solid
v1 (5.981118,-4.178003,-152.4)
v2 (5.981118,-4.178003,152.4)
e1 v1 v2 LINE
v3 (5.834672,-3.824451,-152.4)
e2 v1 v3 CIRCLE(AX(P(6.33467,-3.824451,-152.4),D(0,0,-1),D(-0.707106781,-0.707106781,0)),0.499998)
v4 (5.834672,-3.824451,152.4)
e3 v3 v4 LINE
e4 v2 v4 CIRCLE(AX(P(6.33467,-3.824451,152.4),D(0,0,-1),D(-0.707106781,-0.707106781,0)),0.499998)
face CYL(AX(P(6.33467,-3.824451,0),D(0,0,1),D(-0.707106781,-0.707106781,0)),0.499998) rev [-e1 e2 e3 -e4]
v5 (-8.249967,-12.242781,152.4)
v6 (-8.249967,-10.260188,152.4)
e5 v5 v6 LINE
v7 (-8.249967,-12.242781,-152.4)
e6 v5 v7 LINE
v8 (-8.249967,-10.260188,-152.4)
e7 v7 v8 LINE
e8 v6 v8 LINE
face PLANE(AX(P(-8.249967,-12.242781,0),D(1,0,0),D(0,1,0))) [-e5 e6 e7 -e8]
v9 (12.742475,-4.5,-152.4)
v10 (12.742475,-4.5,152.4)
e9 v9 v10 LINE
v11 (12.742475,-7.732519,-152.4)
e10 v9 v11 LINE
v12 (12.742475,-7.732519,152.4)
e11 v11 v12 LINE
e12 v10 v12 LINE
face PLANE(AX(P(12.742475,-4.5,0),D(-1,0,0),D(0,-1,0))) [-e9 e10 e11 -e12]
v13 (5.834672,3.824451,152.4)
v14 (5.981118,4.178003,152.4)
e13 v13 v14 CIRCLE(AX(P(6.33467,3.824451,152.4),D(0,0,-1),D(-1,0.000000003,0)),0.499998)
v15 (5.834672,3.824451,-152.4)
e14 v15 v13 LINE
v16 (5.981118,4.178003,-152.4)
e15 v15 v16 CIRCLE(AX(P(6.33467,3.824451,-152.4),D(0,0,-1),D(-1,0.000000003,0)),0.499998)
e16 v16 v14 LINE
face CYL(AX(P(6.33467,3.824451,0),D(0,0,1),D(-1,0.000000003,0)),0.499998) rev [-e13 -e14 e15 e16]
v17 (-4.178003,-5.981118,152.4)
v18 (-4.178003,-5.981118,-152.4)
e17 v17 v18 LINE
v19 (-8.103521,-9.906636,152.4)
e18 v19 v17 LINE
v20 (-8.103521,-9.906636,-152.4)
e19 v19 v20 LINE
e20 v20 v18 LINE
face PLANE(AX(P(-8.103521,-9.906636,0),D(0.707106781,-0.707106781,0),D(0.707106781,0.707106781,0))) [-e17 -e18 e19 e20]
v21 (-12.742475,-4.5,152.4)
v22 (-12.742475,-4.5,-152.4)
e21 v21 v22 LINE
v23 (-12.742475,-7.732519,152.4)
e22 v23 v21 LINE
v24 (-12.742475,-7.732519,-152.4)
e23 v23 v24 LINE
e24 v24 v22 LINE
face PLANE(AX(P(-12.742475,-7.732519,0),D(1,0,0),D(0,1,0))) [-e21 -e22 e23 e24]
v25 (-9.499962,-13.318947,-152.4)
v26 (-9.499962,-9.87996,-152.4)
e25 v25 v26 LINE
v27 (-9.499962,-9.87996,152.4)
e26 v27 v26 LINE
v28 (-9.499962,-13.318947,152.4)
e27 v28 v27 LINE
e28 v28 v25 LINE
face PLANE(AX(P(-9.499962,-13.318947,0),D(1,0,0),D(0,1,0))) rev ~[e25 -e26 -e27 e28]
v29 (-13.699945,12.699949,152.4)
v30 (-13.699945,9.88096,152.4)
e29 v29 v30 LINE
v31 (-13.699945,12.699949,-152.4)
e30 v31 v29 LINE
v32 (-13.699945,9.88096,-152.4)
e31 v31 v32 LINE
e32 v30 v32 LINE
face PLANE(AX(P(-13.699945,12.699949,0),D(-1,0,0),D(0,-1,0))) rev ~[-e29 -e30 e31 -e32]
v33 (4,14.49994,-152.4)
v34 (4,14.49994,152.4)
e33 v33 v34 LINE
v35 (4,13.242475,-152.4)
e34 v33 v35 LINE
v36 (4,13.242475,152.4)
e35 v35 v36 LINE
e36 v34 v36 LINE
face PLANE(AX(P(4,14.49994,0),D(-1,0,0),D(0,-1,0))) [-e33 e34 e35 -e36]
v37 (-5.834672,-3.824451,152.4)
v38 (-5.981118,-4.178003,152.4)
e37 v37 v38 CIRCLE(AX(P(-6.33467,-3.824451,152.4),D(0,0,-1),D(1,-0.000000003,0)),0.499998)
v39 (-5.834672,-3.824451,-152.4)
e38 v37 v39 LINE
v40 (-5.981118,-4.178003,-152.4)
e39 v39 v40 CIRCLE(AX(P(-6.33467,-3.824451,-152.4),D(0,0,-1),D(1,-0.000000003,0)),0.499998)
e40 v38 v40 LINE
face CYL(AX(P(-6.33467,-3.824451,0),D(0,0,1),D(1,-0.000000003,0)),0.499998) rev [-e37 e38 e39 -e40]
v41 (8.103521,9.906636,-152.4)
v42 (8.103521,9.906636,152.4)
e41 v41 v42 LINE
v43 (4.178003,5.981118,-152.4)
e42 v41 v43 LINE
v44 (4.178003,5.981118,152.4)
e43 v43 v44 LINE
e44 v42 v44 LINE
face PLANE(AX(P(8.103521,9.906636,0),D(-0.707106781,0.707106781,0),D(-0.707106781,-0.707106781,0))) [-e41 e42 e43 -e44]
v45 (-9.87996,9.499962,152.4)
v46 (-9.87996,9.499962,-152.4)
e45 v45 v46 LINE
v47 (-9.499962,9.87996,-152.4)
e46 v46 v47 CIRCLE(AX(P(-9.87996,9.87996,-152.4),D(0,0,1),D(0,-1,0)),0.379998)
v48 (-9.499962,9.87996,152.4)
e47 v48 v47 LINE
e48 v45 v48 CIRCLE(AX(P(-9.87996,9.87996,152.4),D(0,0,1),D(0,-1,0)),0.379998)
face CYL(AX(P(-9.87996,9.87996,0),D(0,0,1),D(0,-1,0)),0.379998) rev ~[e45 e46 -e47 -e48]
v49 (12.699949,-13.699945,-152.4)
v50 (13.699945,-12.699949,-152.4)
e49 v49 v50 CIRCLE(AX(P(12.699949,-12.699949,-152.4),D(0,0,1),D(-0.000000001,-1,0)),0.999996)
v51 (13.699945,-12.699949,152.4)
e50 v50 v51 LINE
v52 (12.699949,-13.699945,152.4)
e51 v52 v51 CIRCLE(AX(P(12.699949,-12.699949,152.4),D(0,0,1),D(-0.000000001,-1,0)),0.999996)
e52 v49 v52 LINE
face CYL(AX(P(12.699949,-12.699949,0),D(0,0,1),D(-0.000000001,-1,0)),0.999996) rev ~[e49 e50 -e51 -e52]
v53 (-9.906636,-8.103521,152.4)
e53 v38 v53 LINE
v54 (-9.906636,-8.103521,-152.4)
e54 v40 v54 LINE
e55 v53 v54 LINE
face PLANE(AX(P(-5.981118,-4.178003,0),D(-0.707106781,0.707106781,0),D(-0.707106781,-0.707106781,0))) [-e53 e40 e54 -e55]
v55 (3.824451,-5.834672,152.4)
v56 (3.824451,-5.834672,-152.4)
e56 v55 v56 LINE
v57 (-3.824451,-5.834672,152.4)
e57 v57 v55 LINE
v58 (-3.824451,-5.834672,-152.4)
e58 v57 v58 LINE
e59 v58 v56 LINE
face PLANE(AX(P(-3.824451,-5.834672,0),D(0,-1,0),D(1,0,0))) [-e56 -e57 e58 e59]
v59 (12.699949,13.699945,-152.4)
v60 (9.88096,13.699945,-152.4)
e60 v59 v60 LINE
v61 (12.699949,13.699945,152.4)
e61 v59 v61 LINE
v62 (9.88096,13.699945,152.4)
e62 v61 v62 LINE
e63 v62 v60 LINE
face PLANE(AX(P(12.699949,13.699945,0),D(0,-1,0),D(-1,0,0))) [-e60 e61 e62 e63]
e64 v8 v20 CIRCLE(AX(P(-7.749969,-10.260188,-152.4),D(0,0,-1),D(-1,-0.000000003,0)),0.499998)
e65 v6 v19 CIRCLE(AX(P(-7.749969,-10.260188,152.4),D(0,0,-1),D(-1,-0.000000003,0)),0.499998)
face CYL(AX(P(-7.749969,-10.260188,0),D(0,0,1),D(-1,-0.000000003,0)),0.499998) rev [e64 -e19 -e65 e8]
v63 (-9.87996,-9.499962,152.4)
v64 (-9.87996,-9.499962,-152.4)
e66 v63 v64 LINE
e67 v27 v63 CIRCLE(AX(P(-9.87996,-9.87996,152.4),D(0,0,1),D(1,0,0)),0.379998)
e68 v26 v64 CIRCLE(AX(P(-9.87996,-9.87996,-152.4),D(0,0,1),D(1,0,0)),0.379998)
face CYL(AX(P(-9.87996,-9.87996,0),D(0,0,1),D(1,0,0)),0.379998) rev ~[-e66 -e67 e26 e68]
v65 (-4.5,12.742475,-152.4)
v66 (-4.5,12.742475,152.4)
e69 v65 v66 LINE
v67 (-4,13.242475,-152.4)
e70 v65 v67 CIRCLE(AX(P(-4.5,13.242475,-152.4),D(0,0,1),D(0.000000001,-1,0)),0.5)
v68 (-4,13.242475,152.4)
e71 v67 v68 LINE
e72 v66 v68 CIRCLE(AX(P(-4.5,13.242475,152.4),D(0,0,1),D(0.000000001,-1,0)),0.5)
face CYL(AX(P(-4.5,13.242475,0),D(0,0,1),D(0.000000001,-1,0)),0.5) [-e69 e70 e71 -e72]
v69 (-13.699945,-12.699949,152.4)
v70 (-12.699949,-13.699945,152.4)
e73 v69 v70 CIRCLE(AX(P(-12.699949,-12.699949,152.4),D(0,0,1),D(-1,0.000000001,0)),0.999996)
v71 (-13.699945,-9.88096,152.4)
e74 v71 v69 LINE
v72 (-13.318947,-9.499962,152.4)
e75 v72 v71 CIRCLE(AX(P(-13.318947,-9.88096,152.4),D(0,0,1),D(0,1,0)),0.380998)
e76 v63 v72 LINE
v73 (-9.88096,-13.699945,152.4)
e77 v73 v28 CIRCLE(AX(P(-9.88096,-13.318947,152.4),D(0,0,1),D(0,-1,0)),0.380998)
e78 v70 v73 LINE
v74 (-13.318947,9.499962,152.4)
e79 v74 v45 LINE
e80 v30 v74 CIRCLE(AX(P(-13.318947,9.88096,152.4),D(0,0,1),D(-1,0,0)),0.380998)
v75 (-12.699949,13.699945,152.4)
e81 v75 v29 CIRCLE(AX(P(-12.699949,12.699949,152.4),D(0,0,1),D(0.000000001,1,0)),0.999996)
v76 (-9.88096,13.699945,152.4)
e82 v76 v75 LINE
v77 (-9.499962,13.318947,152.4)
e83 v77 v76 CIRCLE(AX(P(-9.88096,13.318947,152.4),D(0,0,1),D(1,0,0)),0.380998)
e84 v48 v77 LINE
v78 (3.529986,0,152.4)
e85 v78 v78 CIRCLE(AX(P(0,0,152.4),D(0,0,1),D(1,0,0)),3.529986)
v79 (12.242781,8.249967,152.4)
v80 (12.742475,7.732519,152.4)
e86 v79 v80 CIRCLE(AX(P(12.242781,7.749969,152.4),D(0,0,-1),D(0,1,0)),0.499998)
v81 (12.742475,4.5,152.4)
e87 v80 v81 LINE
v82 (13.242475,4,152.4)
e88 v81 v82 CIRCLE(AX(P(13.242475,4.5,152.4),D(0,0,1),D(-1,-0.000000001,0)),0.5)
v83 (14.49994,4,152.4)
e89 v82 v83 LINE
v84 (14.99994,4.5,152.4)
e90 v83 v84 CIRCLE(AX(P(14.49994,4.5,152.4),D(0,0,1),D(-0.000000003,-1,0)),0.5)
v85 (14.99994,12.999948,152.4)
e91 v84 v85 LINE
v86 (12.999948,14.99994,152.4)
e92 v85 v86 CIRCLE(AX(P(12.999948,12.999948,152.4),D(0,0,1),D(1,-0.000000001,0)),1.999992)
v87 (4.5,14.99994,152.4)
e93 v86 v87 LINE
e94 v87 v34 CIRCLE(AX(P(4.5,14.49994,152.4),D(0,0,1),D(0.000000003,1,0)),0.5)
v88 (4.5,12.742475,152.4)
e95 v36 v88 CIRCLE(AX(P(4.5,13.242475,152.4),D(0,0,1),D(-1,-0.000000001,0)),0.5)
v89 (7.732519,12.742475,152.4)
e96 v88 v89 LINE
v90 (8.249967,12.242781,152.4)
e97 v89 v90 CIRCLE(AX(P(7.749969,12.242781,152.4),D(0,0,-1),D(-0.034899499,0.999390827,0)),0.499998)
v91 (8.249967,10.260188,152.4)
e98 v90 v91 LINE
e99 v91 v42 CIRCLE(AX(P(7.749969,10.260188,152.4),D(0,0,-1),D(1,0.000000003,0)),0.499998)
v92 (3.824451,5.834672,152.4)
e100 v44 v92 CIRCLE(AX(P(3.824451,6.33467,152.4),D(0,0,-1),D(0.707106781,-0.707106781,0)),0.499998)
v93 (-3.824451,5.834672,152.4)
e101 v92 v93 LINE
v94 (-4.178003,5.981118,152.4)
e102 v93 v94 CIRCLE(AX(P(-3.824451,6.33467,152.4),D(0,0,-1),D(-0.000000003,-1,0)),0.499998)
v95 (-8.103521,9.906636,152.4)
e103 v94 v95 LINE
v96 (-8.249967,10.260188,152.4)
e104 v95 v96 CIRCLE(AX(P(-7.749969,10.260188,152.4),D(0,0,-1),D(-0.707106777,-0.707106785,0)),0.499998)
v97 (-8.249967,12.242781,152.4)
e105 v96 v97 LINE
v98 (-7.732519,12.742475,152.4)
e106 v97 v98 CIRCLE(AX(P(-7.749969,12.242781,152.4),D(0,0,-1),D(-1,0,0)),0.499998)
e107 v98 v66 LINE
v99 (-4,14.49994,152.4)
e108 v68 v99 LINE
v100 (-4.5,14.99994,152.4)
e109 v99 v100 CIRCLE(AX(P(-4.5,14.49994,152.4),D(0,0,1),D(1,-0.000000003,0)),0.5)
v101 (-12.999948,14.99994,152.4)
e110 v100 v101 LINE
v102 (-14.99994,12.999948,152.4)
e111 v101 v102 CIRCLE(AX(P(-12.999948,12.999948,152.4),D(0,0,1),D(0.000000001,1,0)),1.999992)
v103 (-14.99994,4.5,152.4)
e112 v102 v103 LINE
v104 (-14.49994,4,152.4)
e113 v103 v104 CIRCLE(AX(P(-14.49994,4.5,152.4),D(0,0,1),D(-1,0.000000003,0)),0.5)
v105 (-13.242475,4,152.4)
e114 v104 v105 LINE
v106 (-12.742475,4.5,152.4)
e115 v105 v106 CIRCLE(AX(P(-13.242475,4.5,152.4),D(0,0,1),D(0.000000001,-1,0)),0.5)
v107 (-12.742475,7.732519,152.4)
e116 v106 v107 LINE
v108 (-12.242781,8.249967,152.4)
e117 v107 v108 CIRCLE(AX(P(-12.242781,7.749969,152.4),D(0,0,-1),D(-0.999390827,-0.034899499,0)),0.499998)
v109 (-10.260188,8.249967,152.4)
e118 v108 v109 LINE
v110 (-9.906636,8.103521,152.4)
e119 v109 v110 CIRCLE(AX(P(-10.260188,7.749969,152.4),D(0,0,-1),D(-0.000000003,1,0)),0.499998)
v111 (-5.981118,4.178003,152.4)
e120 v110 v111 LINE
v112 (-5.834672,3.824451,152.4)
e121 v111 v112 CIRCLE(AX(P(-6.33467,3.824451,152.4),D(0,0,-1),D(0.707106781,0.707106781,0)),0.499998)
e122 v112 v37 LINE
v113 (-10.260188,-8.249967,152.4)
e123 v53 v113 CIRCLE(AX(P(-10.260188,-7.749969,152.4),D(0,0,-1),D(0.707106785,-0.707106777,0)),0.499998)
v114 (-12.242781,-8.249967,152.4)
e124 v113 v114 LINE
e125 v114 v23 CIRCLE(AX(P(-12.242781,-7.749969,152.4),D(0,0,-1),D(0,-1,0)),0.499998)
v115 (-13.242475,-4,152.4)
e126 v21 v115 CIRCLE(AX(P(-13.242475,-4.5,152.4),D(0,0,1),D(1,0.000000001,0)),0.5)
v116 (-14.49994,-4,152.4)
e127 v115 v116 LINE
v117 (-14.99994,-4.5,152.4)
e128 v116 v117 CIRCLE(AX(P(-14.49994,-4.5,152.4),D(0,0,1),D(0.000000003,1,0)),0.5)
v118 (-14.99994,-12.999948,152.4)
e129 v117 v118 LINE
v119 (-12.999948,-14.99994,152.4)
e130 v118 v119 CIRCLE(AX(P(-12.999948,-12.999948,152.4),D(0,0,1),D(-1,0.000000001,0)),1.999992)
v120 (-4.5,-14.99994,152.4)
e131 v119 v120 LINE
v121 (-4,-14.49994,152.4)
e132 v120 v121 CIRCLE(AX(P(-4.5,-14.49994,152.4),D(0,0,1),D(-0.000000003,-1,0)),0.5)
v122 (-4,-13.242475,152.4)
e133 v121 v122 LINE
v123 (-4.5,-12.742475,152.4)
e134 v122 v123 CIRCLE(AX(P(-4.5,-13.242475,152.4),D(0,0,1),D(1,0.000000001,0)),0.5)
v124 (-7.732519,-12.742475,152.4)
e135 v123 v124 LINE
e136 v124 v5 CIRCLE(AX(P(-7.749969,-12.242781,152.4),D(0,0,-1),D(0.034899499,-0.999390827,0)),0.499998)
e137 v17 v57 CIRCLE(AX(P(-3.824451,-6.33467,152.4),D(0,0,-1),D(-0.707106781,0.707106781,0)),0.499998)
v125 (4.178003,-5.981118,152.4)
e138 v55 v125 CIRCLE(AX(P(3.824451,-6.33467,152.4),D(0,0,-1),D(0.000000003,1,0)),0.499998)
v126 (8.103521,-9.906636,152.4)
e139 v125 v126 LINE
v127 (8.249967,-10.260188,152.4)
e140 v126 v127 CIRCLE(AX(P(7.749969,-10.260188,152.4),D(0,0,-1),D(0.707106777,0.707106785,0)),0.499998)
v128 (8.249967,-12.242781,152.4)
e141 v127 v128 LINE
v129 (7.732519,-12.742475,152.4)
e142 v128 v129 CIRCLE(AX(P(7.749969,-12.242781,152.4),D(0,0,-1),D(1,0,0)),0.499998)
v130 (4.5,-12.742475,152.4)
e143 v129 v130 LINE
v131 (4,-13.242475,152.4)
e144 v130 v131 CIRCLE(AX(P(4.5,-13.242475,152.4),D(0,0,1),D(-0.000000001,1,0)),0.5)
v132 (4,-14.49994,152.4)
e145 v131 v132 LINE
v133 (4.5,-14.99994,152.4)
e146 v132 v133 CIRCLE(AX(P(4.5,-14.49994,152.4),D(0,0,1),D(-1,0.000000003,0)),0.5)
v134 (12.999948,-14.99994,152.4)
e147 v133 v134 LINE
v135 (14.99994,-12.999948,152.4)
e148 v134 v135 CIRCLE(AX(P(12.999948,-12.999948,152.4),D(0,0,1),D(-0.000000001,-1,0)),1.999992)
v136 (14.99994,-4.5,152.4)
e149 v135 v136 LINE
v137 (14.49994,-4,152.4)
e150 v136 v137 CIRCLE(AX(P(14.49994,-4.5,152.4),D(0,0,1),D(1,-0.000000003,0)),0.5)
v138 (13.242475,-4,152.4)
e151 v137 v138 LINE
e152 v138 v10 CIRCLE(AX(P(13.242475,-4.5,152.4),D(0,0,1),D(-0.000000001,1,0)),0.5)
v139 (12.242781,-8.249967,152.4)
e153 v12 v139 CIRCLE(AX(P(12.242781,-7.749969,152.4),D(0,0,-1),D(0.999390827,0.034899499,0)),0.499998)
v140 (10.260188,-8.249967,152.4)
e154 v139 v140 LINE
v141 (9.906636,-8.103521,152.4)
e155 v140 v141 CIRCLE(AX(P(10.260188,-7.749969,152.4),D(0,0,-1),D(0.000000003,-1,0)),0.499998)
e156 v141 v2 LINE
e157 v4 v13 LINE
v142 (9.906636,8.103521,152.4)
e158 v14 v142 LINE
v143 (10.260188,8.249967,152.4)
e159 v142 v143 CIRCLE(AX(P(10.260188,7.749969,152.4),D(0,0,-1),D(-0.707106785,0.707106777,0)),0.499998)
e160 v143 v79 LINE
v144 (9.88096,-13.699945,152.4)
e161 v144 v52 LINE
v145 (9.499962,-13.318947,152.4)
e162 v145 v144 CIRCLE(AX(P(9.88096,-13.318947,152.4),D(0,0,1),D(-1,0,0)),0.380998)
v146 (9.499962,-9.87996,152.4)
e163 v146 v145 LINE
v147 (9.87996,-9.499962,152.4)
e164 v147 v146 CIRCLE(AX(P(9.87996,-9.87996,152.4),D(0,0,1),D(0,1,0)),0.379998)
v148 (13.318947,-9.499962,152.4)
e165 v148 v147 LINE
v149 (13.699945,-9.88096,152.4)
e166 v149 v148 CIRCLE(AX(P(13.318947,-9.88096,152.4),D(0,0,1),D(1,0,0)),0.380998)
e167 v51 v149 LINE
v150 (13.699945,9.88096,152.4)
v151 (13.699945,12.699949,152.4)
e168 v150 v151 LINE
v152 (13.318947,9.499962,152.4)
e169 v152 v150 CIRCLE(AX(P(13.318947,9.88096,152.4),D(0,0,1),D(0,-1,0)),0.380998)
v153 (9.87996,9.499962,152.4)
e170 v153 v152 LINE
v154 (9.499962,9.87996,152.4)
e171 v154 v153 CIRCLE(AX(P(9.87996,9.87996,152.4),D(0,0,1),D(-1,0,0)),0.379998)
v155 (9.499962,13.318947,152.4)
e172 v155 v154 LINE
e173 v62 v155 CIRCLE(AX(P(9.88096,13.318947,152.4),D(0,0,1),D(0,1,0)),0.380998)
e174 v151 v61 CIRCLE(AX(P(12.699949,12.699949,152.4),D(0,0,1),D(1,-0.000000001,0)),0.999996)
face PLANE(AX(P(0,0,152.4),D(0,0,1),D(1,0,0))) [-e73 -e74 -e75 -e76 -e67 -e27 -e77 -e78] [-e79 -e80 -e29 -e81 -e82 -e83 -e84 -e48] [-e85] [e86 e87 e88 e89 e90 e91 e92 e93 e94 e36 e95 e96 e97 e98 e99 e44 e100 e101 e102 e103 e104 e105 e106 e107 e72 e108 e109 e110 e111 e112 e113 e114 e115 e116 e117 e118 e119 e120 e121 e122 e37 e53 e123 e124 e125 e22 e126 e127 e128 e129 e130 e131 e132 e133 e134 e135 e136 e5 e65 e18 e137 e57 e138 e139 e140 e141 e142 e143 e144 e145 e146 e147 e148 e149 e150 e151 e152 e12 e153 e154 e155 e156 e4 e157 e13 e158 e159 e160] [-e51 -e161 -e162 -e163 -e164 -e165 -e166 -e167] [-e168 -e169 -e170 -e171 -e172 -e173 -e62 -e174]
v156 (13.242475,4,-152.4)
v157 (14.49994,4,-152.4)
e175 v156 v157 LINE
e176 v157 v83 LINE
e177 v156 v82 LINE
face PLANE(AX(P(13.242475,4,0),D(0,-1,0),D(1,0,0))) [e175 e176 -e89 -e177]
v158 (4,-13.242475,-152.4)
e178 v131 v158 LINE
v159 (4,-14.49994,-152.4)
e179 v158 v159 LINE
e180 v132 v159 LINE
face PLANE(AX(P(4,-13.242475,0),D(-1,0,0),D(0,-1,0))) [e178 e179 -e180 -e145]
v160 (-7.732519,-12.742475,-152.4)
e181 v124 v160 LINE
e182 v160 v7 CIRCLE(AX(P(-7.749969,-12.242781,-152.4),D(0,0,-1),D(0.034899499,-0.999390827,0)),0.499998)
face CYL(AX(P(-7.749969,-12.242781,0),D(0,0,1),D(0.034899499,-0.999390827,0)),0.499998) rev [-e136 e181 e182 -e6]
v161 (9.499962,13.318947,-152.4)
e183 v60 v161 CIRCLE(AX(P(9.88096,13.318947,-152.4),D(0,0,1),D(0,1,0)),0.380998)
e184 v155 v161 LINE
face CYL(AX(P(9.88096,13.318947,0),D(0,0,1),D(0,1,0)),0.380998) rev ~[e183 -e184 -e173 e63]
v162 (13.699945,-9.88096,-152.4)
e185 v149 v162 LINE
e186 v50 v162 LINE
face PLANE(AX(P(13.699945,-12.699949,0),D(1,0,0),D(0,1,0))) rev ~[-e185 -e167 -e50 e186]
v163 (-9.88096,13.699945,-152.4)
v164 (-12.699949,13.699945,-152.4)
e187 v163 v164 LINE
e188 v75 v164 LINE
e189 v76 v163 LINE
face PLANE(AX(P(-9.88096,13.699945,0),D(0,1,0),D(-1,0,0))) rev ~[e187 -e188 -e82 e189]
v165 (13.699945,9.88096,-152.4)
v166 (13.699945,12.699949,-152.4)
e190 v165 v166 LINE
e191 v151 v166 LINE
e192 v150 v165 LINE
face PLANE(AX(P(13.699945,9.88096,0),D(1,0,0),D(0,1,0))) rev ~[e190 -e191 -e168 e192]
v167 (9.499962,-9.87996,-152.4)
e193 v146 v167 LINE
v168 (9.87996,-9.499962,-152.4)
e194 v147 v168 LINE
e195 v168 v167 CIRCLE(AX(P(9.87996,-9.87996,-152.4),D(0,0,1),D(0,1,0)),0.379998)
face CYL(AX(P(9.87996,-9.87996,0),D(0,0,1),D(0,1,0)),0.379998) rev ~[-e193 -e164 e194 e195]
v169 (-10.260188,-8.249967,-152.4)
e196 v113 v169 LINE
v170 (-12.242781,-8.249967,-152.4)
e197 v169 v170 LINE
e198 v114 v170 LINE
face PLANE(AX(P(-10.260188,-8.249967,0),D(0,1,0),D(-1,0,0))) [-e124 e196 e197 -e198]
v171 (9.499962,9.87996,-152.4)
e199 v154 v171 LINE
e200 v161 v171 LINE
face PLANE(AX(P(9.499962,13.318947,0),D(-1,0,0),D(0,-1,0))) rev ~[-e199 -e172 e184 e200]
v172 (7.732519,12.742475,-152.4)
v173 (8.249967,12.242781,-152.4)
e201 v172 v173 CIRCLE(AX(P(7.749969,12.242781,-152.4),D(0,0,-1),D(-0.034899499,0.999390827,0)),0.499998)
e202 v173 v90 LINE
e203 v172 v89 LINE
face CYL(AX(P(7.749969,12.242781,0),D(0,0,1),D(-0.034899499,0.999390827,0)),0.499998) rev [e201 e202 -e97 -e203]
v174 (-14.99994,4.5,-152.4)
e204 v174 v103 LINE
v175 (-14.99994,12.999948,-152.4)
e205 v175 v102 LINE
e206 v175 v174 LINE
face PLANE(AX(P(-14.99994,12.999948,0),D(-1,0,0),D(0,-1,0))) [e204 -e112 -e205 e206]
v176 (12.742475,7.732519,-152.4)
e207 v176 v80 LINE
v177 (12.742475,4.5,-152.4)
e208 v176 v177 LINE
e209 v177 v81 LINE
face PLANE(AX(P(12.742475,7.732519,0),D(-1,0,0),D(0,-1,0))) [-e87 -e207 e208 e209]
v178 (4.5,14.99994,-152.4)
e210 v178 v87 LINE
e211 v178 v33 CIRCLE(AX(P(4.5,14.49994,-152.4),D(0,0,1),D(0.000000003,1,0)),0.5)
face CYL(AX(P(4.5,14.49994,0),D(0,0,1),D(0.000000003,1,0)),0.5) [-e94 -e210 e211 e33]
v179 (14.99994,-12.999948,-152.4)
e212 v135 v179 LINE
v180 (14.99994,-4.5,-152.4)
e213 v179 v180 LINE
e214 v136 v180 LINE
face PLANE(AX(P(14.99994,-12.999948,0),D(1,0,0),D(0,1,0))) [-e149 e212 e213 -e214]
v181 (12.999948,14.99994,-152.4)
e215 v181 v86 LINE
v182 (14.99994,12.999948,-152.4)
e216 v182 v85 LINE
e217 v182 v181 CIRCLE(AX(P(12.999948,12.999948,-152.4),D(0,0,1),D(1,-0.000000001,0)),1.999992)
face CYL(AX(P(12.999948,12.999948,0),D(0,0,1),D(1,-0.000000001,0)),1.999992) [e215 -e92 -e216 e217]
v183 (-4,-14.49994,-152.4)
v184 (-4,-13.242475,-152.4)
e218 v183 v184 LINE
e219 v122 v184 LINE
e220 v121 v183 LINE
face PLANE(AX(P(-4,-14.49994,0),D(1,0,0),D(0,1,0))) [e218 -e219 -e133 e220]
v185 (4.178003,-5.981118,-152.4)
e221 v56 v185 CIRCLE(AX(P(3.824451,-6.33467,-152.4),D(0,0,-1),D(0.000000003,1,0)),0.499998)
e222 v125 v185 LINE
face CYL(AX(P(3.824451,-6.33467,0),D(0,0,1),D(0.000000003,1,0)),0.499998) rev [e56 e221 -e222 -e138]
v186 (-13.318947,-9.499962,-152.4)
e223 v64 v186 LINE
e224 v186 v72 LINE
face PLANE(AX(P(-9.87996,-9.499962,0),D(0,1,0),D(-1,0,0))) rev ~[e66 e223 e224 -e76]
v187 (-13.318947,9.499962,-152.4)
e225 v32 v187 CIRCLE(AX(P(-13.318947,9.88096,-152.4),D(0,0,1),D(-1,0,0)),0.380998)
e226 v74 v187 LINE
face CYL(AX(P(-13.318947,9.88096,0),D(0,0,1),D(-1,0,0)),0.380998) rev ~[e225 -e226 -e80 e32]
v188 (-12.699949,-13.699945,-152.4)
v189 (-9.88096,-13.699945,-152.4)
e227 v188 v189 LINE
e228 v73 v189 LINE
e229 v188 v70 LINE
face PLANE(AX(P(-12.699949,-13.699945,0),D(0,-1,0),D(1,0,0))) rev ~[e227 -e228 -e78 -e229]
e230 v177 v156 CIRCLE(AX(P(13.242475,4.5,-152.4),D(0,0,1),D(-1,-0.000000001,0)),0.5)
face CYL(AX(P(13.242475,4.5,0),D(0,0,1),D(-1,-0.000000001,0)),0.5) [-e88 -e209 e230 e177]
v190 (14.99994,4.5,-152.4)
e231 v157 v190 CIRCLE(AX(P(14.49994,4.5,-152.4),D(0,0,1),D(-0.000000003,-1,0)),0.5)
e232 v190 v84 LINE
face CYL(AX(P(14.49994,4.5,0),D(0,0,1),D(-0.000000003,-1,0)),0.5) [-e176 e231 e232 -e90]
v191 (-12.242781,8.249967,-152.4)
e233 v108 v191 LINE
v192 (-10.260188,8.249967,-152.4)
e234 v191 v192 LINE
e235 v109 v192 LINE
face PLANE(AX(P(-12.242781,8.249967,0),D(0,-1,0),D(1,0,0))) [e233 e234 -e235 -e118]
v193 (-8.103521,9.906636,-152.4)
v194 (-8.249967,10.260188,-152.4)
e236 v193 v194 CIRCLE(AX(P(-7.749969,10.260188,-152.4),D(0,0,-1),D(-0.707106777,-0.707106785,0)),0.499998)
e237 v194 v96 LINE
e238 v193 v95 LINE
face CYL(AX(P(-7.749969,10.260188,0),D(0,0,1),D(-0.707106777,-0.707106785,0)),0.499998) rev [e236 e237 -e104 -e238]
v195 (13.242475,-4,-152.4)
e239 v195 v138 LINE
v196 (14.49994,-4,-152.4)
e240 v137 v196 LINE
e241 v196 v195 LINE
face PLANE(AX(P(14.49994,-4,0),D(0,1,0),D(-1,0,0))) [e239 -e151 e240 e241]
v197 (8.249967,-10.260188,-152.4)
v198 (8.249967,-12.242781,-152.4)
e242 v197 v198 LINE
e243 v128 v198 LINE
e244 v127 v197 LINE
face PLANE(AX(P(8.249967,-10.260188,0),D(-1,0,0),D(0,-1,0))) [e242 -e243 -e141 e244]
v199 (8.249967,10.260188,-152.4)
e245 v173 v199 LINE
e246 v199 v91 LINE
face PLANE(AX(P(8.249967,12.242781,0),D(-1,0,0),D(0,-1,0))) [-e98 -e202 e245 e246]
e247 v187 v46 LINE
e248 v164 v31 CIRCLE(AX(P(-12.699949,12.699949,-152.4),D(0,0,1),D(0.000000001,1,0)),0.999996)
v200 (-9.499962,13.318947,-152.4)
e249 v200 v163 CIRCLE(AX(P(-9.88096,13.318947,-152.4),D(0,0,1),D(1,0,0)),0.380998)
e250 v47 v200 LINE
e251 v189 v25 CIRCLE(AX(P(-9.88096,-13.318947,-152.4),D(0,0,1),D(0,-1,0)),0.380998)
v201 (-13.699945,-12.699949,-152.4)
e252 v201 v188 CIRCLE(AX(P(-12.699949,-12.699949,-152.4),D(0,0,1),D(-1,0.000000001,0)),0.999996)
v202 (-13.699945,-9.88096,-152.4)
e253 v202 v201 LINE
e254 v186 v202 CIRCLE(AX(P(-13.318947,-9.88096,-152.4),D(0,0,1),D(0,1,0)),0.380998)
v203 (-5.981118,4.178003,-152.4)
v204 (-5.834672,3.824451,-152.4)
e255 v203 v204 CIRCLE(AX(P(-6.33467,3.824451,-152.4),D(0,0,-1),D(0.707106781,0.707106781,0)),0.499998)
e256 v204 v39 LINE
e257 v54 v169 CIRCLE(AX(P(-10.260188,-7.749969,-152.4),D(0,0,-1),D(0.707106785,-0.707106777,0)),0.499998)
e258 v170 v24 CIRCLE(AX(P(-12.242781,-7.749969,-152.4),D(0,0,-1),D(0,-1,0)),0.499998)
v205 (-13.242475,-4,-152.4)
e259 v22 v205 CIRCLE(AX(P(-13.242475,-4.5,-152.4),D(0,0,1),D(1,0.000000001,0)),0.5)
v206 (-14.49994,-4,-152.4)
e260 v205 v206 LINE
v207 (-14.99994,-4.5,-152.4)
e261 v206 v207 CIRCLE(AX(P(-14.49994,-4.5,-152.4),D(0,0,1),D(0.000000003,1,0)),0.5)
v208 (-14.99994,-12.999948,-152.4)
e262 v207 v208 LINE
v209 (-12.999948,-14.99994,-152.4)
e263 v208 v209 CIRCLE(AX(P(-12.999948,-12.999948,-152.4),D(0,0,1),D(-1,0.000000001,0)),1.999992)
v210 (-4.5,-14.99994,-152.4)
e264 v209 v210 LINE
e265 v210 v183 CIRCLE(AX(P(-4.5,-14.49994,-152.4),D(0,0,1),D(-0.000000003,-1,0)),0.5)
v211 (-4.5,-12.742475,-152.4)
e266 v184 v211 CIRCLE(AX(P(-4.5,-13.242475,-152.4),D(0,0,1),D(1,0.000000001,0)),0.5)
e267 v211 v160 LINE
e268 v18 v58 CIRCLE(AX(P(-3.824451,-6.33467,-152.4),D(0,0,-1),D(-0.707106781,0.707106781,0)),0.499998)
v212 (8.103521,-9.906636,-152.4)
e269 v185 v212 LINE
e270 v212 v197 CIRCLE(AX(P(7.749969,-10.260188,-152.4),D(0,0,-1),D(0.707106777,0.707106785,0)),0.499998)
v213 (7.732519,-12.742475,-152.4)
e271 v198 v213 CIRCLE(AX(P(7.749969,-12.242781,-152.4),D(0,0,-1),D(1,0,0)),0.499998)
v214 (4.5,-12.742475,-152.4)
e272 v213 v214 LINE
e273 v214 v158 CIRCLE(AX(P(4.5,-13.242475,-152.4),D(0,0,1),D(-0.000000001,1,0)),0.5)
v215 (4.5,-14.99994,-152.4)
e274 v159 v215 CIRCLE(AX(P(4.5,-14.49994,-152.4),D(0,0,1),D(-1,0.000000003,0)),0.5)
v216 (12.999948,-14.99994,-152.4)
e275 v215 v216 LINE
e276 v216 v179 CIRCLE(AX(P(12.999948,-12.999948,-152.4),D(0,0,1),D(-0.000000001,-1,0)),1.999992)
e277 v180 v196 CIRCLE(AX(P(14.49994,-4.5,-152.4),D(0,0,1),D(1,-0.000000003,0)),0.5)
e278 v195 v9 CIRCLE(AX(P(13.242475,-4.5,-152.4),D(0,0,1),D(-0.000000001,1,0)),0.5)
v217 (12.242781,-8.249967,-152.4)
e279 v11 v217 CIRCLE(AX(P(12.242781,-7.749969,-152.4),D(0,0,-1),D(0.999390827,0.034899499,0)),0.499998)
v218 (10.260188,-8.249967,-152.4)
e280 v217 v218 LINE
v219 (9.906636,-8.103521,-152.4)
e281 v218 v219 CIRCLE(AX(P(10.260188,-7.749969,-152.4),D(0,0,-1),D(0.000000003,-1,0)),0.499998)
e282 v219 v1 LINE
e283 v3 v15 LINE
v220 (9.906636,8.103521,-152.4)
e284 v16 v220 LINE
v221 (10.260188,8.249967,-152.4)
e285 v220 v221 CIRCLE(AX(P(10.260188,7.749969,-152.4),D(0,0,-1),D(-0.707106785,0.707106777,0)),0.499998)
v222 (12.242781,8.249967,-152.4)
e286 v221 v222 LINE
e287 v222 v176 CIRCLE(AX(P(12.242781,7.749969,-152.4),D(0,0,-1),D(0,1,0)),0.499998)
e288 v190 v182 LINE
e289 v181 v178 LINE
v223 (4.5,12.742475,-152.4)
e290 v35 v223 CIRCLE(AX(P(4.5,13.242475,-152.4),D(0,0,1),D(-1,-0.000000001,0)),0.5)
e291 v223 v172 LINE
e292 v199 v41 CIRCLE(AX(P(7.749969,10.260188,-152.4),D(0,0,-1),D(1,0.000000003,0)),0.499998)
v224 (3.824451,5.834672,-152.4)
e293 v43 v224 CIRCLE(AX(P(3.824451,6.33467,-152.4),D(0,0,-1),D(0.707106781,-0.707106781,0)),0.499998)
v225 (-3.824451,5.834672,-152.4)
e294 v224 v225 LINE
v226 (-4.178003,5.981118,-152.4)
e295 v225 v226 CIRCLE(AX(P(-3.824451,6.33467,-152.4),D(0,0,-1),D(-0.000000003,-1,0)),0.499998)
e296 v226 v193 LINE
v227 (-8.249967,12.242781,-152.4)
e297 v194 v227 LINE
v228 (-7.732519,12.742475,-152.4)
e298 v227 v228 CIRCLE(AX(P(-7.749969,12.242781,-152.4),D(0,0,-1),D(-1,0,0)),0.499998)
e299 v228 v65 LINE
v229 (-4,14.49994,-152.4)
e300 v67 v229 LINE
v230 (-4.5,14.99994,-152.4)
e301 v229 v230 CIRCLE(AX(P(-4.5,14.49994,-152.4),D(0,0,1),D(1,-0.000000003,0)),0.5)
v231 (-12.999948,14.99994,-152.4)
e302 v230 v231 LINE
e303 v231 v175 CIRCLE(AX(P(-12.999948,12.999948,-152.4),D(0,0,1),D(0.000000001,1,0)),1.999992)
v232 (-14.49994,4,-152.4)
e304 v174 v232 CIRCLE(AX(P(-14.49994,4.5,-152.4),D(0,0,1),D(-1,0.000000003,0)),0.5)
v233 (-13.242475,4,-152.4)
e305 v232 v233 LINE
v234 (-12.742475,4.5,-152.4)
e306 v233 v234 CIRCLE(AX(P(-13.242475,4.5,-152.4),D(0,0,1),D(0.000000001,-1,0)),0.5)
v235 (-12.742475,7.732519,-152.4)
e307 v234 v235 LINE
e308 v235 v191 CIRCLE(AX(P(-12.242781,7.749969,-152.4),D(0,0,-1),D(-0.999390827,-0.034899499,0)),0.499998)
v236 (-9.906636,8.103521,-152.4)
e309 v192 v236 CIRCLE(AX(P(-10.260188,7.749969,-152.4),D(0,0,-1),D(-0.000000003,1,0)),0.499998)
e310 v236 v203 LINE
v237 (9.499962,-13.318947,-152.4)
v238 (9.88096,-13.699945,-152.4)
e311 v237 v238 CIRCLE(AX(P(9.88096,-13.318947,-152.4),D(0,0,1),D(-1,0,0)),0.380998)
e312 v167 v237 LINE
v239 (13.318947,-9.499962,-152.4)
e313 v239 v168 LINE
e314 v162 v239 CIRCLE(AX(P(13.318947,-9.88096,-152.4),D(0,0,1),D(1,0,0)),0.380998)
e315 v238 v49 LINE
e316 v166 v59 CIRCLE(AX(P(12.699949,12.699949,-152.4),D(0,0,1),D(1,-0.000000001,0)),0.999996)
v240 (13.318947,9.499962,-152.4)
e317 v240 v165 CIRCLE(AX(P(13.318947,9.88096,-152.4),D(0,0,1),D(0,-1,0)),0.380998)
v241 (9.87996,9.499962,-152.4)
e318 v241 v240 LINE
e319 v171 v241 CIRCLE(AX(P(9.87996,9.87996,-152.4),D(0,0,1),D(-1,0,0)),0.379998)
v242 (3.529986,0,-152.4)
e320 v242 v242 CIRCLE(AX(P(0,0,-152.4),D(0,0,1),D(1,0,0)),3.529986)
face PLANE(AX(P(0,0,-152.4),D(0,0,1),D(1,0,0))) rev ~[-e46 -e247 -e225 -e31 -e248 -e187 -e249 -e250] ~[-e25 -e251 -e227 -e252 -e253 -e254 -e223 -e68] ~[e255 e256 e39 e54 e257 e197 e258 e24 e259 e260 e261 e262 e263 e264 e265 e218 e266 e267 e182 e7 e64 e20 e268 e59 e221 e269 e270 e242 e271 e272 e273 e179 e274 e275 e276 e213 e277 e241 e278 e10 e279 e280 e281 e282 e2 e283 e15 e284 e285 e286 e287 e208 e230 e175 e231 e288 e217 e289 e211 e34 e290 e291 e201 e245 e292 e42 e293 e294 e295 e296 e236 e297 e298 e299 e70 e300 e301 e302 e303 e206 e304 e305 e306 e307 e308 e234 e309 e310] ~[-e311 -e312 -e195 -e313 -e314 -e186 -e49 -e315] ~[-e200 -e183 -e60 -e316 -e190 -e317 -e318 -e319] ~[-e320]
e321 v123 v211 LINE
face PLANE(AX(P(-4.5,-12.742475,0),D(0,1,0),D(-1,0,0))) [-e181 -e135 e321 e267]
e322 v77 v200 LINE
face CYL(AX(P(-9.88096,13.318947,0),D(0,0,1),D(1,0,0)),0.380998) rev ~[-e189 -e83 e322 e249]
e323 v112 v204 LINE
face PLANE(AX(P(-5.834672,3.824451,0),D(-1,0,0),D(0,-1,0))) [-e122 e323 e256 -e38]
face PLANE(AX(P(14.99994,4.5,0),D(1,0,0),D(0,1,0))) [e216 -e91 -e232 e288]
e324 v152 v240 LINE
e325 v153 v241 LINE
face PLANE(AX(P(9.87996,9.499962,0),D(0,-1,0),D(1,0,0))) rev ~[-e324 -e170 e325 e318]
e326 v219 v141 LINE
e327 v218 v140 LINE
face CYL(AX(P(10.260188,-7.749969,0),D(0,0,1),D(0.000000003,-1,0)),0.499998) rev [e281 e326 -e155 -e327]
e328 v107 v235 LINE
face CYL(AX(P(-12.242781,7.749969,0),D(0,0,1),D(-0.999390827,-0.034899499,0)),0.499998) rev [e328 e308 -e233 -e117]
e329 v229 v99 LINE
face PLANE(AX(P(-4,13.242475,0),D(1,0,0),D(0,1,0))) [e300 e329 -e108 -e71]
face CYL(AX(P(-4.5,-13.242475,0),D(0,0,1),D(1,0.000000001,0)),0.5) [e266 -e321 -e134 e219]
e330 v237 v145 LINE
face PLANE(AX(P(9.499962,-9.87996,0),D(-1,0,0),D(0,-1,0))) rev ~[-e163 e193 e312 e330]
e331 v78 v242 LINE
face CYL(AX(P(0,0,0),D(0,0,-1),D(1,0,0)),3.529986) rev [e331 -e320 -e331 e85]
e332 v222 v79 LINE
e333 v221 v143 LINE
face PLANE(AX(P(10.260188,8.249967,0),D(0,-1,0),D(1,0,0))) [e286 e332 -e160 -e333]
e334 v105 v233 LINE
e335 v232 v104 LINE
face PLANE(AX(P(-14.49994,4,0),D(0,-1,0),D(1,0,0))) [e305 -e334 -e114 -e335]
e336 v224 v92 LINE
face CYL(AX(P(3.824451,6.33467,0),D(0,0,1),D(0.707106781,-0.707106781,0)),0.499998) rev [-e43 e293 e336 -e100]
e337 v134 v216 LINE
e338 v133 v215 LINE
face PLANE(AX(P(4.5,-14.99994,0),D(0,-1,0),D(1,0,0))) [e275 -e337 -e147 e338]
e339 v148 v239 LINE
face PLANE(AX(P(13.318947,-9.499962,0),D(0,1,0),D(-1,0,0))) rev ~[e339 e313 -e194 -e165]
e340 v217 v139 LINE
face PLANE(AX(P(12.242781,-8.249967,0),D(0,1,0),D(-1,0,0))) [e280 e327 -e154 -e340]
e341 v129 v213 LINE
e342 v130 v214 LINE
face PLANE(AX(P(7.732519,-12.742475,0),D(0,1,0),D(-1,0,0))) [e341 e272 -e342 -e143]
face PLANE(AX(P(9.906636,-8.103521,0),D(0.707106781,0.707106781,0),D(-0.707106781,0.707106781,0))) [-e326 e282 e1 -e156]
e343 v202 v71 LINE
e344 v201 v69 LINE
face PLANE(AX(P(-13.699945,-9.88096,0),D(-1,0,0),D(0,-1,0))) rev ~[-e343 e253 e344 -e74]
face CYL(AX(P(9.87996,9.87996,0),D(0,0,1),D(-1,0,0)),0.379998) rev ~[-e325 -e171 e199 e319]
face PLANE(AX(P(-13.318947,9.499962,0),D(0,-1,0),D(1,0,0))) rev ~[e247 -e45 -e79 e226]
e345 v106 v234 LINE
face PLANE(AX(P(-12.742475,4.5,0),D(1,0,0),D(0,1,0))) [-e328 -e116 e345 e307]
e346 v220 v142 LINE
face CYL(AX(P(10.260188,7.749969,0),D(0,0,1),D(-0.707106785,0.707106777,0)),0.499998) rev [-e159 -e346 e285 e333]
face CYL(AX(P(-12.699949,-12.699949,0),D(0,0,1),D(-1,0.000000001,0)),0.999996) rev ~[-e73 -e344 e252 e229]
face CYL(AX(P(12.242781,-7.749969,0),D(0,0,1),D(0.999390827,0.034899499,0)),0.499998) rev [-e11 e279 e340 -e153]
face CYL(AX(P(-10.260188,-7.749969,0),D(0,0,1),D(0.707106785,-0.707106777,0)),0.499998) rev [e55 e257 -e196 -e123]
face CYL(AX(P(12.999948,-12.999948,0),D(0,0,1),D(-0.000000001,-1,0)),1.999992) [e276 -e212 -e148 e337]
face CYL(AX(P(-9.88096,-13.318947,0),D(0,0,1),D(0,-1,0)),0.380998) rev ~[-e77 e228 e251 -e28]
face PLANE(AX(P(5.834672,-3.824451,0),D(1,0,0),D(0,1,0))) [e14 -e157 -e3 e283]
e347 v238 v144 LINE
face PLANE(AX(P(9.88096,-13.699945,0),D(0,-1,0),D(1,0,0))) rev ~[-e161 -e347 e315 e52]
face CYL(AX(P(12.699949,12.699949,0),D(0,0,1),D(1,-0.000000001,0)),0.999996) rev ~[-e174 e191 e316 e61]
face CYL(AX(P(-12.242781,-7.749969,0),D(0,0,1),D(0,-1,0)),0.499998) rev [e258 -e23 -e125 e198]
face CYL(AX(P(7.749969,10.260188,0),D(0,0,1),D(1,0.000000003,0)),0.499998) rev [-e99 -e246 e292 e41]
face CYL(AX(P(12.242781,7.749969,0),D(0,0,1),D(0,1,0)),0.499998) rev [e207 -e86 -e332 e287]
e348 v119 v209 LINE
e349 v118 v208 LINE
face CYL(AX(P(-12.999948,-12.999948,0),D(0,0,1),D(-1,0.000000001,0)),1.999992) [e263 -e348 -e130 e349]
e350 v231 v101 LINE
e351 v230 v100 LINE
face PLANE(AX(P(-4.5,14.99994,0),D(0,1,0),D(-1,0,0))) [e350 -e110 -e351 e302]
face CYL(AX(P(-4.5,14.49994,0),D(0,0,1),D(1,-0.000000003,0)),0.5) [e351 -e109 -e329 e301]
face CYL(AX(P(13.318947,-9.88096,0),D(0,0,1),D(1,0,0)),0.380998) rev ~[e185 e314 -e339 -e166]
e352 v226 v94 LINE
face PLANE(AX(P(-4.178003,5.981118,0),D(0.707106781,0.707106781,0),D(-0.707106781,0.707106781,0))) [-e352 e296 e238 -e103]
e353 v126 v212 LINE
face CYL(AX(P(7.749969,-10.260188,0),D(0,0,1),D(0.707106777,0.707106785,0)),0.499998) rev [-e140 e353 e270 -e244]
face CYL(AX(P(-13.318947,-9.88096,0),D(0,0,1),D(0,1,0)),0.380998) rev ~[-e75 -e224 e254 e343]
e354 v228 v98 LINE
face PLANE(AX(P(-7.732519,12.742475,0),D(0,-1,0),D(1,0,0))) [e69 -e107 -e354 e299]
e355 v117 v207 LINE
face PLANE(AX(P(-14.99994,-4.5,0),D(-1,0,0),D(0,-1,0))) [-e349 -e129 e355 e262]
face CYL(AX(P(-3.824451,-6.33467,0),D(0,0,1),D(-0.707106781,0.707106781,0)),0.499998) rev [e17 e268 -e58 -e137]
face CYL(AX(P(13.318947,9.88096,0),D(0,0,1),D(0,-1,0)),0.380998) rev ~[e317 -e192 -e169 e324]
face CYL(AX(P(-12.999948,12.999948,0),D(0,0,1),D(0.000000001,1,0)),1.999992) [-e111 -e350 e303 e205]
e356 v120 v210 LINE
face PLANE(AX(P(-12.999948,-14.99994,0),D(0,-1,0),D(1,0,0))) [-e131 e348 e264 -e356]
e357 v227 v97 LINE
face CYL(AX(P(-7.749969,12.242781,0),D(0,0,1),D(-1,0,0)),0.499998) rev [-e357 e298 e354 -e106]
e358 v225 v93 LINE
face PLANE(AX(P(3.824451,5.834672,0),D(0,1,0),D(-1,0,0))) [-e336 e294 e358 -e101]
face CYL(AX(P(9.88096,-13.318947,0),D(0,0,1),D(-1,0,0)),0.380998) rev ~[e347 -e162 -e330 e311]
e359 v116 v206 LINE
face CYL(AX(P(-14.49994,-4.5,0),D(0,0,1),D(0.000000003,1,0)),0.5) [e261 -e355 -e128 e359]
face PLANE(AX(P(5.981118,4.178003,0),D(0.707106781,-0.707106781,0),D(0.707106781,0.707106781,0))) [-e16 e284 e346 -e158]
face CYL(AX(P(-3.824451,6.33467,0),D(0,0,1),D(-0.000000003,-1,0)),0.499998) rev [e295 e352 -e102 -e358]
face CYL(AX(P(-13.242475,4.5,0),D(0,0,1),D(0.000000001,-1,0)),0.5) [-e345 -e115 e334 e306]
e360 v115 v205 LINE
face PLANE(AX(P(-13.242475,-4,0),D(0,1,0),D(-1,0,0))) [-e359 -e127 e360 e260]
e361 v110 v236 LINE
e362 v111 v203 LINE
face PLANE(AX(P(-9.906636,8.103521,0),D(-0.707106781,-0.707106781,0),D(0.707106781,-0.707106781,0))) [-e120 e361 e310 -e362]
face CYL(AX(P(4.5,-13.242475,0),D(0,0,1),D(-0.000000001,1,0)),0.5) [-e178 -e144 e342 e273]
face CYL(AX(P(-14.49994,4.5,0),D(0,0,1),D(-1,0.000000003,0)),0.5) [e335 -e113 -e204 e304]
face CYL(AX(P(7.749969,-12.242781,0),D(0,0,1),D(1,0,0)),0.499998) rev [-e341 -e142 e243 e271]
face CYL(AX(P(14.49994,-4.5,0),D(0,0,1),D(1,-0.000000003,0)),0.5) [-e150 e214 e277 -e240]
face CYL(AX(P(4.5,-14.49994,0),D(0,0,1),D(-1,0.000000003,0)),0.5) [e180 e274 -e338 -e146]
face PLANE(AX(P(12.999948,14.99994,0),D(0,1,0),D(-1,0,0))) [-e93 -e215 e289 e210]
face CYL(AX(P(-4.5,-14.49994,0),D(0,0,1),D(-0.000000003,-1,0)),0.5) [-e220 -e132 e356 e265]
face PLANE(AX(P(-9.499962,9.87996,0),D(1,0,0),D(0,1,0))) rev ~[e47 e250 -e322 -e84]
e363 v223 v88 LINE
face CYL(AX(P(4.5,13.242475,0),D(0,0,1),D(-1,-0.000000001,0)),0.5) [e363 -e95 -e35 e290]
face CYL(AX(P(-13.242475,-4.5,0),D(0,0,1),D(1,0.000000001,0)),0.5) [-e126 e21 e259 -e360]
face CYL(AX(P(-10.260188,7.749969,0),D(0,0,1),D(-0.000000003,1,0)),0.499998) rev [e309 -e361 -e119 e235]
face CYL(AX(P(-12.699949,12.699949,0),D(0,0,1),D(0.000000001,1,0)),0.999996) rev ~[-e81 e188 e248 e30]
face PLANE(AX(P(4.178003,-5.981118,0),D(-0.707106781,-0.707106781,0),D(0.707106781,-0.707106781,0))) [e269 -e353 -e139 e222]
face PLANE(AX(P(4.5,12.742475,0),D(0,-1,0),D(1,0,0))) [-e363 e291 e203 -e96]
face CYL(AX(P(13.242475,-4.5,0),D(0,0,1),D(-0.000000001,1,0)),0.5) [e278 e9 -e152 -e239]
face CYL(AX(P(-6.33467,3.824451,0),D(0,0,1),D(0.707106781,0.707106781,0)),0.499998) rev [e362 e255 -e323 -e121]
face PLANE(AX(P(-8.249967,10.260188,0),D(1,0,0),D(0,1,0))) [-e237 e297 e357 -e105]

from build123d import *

# Parameters (mm, degrees)
SKETCH1_R           = 3.52998588
BOSS_EXTRUDE1_DEPTH = 152.4


with BuildPart() as part:
    # Sketch1 → Boss-Extrude1 (new, symmetric)
    with BuildSketch(Plane.XY):
        with BuildLine():
            Line((14.49994, -4), (13.24247465, -4))
            ThreePointArc((13.24247465, -4), (12.88892126, -4.146446609), (12.74247465, -4.5))
            Line((12.74247465, -4.5), (12.74247465, -7.732519321))
            ThreePointArc((12.74247465, -7.732519321), (12.602449697, -8.097296796), (12.242781236, -8.249967))
            Line((12.242781236, -8.249967), (10.260188032, -8.249967))
            ThreePointArc((10.260188032, -8.249967), (10.068847082, -8.211906919), (9.906636056, -8.103520976))
            Line((9.906636056, -8.103520976), (5.981117769, -4.178002689))
            ThreePointArc((5.981117769, -4.178002689), (5.872731827, -4.015791664), (5.834671745, -3.824450713))
            Line((5.834671745, -3.824450713), (5.834671745, -1.01249595))
            Line((5.834671745, -1.01249595), (5.834671745, 0.88749645))
            Line((5.834671745, 0.88749645), (5.834671745, 3.824450713))
            ThreePointArc((5.834671745, 3.824450713), (5.872731827, 4.015791664), (5.981117769, 4.178002689))
            Line((5.981117769, 4.178002689), (9.906636056, 8.103520976))
            ThreePointArc((9.906636056, 8.103520976), (10.068847082, 8.211906919), (10.260188032, 8.249967))
            Line((10.260188032, 8.249967), (12.242781236, 8.249967))
            ThreePointArc((12.242781236, 8.249967), (12.602449697, 8.097296796), (12.74247465, 7.732519321))
            Line((12.74247465, 7.732519321), (12.74247465, 4.5))
            ThreePointArc((12.74247465, 4.5), (12.88892126, 4.146446609), (13.24247465, 4))
            Line((13.24247465, 4), (14.49994, 4))
            ThreePointArc((14.49994, 4), (14.853493391, 4.146446609), (14.99994, 4.5))
            Line((14.99994, 4.5), (14.99994, 12.999948))
            ThreePointArc((14.99994, 12.999948), (14.414155906, 14.414155906), (12.999948, 14.99994))
            Line((12.999948, 14.99994), (4.5, 14.99994))
            ThreePointArc((4.5, 14.99994), (4.146446609, 14.853493391), (4, 14.49994))
            Line((4, 14.49994), (4, 13.24247465))
            ThreePointArc((4, 13.24247465), (4.146446609, 12.88892126), (4.5, 12.74247465))
            Line((4.5, 12.74247465), (7.732519321, 12.74247465))
            ThreePointArc((7.732519321, 12.74247465), (8.097296796, 12.602449697), (8.249967, 12.242781236))
            Line((8.249967, 12.242781236), (8.249967, 10.260188032))
            ThreePointArc((8.249967, 10.260188032), (8.211906919, 10.068847082), (8.103520976, 9.906636056))
            Line((8.103520976, 9.906636056), (4.178002689, 5.981117769))
            ThreePointArc((4.178002689, 5.981117769), (4.015791664, 5.872731827), (3.824450713, 5.834671745))
            Line((3.824450713, 5.834671745), (0.9499962, 5.834671745))
            Line((0.9499962, 5.834671745), (-0.9499962, 5.834671745))
            Line((-0.9499962, 5.834671745), (-3.824450713, 5.834671745))
            ThreePointArc((-3.824450713, 5.834671745), (-4.015791664, 5.872731827), (-4.178002689, 5.981117769))
            Line((-4.178002689, 5.981117769), (-8.103520976, 9.906636056))
            ThreePointArc((-8.103520976, 9.906636056), (-8.211906919, 10.068847082), (-8.249967, 10.260188032))
            Line((-8.249967, 10.260188032), (-8.249967, 12.242781236))
            ThreePointArc((-8.249967, 12.242781236), (-8.097296796, 12.602449697), (-7.732519321, 12.74247465))
            Line((-7.732519321, 12.74247465), (-4.5, 12.74247465))
            ThreePointArc((-4.5, 12.74247465), (-4.146446609, 12.88892126), (-4, 13.24247465))
            Line((-4, 13.24247465), (-4, 14.49994))
            ThreePointArc((-4, 14.49994), (-4.146446609, 14.853493391), (-4.5, 14.99994))
            Line((-4.5, 14.99994), (-12.999948, 14.99994))
            ThreePointArc((-12.999948, 14.99994), (-14.414155906, 14.414155906), (-14.99994, 12.999948))
            Line((-14.99994, 12.999948), (-14.99994, 4.5))
            ThreePointArc((-14.99994, 4.5), (-14.853493391, 4.146446609), (-14.49994, 4))
            Line((-14.49994, 4), (-13.24247465, 4))
            ThreePointArc((-13.24247465, 4), (-12.88892126, 4.146446609), (-12.74247465, 4.5))
            Line((-12.74247465, 4.5), (-12.74247465, 7.732519321))
            ThreePointArc((-12.74247465, 7.732519321), (-12.602449697, 8.097296796), (-12.242781236, 8.249967))
            Line((-12.242781236, 8.249967), (-10.260188032, 8.249967))
            ThreePointArc((-10.260188032, 8.249967), (-10.068847082, 8.211906919), (-9.906636056, 8.103520976))
            Line((-9.906636056, 8.103520976), (-5.981117769, 4.178002689))
            ThreePointArc((-5.981117769, 4.178002689), (-5.872731827, 4.015791664), (-5.834671745, 3.824450713))
            Line((-5.834671745, 3.824450713), (-5.834671745, 0.88749645))
            Line((-5.834671745, 0.88749645), (-5.834671745, -1.01249595))
            Line((-5.834671745, -1.01249595), (-5.834671745, -3.824450713))
            ThreePointArc((-5.834671745, -3.824450713), (-5.872731827, -4.015791664), (-5.981117769, -4.178002689))
            Line((-5.981117769, -4.178002689), (-9.906636056, -8.103520976))
            ThreePointArc((-9.906636056, -8.103520976), (-10.068847082, -8.211906919), (-10.260188032, -8.249967))
            Line((-10.260188032, -8.249967), (-12.242781236, -8.249967))
            ThreePointArc((-12.242781236, -8.249967), (-12.602449697, -8.097296796), (-12.74247465, -7.732519321))
            Line((-12.74247465, -7.732519321), (-12.74247465, -4.5))
            ThreePointArc((-12.74247465, -4.5), (-12.88892126, -4.146446609), (-13.24247465, -4))
            Line((-13.24247465, -4), (-14.49994, -4))
            ThreePointArc((-14.49994, -4), (-14.853493391, -4.146446609), (-14.99994, -4.5))
            Line((-14.99994, -4.5), (-14.99994, -12.999948))
            ThreePointArc((-14.99994, -12.999948), (-14.414155906, -14.414155906), (-12.999948, -14.99994))
            Line((-12.999948, -14.99994), (-4.5, -14.99994))
            ThreePointArc((-4.5, -14.99994), (-4.146446609, -14.853493391), (-4, -14.49994))
            Line((-4, -14.49994), (-4, -13.24247465))
            ThreePointArc((-4, -13.24247465), (-4.146446609, -12.88892126), (-4.5, -12.74247465))
            Line((-4.5, -12.74247465), (-7.732519321, -12.74247465))
            ThreePointArc((-7.732519321, -12.74247465), (-8.097296796, -12.602449697), (-8.249967, -12.242781236))
            Line((-8.249967, -12.242781236), (-8.249967, -10.260188032))
            ThreePointArc((-8.249967, -10.260188032), (-8.211906919, -10.068847082), (-8.103520976, -9.906636056))
            Line((-8.103520976, -9.906636056), (-4.178002689, -5.981117769))
            ThreePointArc((-4.178002689, -5.981117769), (-4.015791664, -5.872731827), (-3.824450713, -5.834671745))
            Line((-3.824450713, -5.834671745), (-0.9499962, -5.834671745))
            Line((-0.9499962, -5.834671745), (0.9499962, -5.834671745))
            Line((0.9499962, -5.834671745), (3.824450713, -5.834671745))
            ThreePointArc((3.824450713, -5.834671745), (4.015791664, -5.872731827), (4.178002689, -5.981117769))
            Line((4.178002689, -5.981117769), (8.103520976, -9.906636056))
            ThreePointArc((8.103520976, -9.906636056), (8.211906919, -10.068847082), (8.249967, -10.260188032))
            Line((8.249967, -10.260188032), (8.249967, -12.242781236))
            ThreePointArc((8.249967, -12.242781236), (8.097296796, -12.602449697), (7.732519321, -12.74247465))
            Line((7.732519321, -12.74247465), (4.5, -12.74247465))
            ThreePointArc((4.5, -12.74247465), (4.146446609, -12.88892126), (4, -13.24247465))
            Line((4, -13.24247465), (4, -14.49994))
            ThreePointArc((4, -14.49994), (4.146446609, -14.853493391), (4.5, -14.99994))
            Line((4.5, -14.99994), (12.999948, -14.99994))
            ThreePointArc((12.999948, -14.99994), (14.414155906, -14.414155906), (14.99994, -12.999948))
            Line((14.99994, -12.999948), (14.99994, -4.5))
            ThreePointArc((14.99994, -4.5), (14.853493391, -4.146446609), (14.49994, -4))
        make_face()
        Circle(SKETCH1_R, mode=Mode.SUBTRACT)
        with BuildLine():
            Line((-12.6999492, -13.6999452), (-9.880960476, -13.6999452))
            ThreePointArc((-9.880960476, -13.6999452), (-9.61155387, -13.58835333), (-9.499962, -13.318946724))
            Line((-9.499962, -13.318946724), (-9.499962, -9.87996048))
            ThreePointArc((-9.499962, -9.87996048), (-9.611260978, -9.611260978), (-9.87996048, -9.499962))
            Line((-9.87996048, -9.499962), (-13.318946724, -9.499962))
            ThreePointArc((-13.318946724, -9.499962), (-13.58835333, -9.61155387), (-13.6999452, -9.880960476))
            Line((-13.6999452, -9.880960476), (-13.6999452, -12.6999492))
            ThreePointArc((-13.6999452, -12.6999492), (-13.407053153, -13.407053153), (-12.6999492, -13.6999452))
        make_face(mode=Mode.SUBTRACT)
        with BuildLine():
            Line((13.6999452, -12.6999492), (13.6999452, -9.880960476))
            ThreePointArc((13.6999452, -9.880960476), (13.58835333, -9.61155387), (13.318946724, -9.499962))
            Line((13.318946724, -9.499962), (9.87996048, -9.499962))
            ThreePointArc((9.87996048, -9.499962), (9.611260978, -9.611260978), (9.499962, -9.87996048))
            Line((9.499962, -9.87996048), (9.499962, -13.318946724))
            ThreePointArc((9.499962, -13.318946724), (9.61155387, -13.58835333), (9.880960476, -13.6999452))
            Line((9.880960476, -13.6999452), (12.6999492, -13.6999452))
            ThreePointArc((12.6999492, -13.6999452), (13.407053153, -13.407053153), (13.6999452, -12.6999492))
        make_face(mode=Mode.SUBTRACT)
        with BuildLine():
            Line((9.87996048, 9.499962), (13.318946724, 9.499962))
            ThreePointArc((13.318946724, 9.499962), (13.58835333, 9.61155387), (13.6999452, 9.880960476))
            Line((13.6999452, 9.880960476), (13.6999452, 12.6999492))
            ThreePointArc((13.6999452, 12.6999492), (13.407053153, 13.407053153), (12.6999492, 13.6999452))
            Line((12.6999492, 13.6999452), (9.880960476, 13.6999452))
            ThreePointArc((9.880960476, 13.6999452), (9.61155387, 13.58835333), (9.499962, 13.318946724))
            Line((9.499962, 13.318946724), (9.499962, 9.87996048))
            ThreePointArc((9.499962, 9.87996048), (9.611260978, 9.611260978), (9.87996048, 9.499962))
        make_face(mode=Mode.SUBTRACT)
        with BuildLine():
            Line((-13.6999452, 12.6999492), (-13.6999452, 9.880960476))
            ThreePointArc((-13.6999452, 9.880960476), (-13.58835333, 9.61155387), (-13.318946724, 9.499962))
            Line((-13.318946724, 9.499962), (-9.87996048, 9.499962))
            ThreePointArc((-9.87996048, 9.499962), (-9.611260978, 9.611260978), (-9.499962, 9.87996048))
            Line((-9.499962, 9.87996048), (-9.499962, 13.318946724))
            ThreePointArc((-9.499962, 13.318946724), (-9.61155387, 13.58835333), (-9.880960476, 13.6999452))
            Line((-9.880960476, 13.6999452), (-12.6999492, 13.6999452))
            ThreePointArc((-12.6999492, 13.6999452), (-13.407053153, 13.407053153), (-13.6999452, 12.6999492))
        make_face(mode=Mode.SUBTRACT)
    extrude(amount=BOSS_EXTRUDE1_DEPTH, both=True)


solid = part.part
